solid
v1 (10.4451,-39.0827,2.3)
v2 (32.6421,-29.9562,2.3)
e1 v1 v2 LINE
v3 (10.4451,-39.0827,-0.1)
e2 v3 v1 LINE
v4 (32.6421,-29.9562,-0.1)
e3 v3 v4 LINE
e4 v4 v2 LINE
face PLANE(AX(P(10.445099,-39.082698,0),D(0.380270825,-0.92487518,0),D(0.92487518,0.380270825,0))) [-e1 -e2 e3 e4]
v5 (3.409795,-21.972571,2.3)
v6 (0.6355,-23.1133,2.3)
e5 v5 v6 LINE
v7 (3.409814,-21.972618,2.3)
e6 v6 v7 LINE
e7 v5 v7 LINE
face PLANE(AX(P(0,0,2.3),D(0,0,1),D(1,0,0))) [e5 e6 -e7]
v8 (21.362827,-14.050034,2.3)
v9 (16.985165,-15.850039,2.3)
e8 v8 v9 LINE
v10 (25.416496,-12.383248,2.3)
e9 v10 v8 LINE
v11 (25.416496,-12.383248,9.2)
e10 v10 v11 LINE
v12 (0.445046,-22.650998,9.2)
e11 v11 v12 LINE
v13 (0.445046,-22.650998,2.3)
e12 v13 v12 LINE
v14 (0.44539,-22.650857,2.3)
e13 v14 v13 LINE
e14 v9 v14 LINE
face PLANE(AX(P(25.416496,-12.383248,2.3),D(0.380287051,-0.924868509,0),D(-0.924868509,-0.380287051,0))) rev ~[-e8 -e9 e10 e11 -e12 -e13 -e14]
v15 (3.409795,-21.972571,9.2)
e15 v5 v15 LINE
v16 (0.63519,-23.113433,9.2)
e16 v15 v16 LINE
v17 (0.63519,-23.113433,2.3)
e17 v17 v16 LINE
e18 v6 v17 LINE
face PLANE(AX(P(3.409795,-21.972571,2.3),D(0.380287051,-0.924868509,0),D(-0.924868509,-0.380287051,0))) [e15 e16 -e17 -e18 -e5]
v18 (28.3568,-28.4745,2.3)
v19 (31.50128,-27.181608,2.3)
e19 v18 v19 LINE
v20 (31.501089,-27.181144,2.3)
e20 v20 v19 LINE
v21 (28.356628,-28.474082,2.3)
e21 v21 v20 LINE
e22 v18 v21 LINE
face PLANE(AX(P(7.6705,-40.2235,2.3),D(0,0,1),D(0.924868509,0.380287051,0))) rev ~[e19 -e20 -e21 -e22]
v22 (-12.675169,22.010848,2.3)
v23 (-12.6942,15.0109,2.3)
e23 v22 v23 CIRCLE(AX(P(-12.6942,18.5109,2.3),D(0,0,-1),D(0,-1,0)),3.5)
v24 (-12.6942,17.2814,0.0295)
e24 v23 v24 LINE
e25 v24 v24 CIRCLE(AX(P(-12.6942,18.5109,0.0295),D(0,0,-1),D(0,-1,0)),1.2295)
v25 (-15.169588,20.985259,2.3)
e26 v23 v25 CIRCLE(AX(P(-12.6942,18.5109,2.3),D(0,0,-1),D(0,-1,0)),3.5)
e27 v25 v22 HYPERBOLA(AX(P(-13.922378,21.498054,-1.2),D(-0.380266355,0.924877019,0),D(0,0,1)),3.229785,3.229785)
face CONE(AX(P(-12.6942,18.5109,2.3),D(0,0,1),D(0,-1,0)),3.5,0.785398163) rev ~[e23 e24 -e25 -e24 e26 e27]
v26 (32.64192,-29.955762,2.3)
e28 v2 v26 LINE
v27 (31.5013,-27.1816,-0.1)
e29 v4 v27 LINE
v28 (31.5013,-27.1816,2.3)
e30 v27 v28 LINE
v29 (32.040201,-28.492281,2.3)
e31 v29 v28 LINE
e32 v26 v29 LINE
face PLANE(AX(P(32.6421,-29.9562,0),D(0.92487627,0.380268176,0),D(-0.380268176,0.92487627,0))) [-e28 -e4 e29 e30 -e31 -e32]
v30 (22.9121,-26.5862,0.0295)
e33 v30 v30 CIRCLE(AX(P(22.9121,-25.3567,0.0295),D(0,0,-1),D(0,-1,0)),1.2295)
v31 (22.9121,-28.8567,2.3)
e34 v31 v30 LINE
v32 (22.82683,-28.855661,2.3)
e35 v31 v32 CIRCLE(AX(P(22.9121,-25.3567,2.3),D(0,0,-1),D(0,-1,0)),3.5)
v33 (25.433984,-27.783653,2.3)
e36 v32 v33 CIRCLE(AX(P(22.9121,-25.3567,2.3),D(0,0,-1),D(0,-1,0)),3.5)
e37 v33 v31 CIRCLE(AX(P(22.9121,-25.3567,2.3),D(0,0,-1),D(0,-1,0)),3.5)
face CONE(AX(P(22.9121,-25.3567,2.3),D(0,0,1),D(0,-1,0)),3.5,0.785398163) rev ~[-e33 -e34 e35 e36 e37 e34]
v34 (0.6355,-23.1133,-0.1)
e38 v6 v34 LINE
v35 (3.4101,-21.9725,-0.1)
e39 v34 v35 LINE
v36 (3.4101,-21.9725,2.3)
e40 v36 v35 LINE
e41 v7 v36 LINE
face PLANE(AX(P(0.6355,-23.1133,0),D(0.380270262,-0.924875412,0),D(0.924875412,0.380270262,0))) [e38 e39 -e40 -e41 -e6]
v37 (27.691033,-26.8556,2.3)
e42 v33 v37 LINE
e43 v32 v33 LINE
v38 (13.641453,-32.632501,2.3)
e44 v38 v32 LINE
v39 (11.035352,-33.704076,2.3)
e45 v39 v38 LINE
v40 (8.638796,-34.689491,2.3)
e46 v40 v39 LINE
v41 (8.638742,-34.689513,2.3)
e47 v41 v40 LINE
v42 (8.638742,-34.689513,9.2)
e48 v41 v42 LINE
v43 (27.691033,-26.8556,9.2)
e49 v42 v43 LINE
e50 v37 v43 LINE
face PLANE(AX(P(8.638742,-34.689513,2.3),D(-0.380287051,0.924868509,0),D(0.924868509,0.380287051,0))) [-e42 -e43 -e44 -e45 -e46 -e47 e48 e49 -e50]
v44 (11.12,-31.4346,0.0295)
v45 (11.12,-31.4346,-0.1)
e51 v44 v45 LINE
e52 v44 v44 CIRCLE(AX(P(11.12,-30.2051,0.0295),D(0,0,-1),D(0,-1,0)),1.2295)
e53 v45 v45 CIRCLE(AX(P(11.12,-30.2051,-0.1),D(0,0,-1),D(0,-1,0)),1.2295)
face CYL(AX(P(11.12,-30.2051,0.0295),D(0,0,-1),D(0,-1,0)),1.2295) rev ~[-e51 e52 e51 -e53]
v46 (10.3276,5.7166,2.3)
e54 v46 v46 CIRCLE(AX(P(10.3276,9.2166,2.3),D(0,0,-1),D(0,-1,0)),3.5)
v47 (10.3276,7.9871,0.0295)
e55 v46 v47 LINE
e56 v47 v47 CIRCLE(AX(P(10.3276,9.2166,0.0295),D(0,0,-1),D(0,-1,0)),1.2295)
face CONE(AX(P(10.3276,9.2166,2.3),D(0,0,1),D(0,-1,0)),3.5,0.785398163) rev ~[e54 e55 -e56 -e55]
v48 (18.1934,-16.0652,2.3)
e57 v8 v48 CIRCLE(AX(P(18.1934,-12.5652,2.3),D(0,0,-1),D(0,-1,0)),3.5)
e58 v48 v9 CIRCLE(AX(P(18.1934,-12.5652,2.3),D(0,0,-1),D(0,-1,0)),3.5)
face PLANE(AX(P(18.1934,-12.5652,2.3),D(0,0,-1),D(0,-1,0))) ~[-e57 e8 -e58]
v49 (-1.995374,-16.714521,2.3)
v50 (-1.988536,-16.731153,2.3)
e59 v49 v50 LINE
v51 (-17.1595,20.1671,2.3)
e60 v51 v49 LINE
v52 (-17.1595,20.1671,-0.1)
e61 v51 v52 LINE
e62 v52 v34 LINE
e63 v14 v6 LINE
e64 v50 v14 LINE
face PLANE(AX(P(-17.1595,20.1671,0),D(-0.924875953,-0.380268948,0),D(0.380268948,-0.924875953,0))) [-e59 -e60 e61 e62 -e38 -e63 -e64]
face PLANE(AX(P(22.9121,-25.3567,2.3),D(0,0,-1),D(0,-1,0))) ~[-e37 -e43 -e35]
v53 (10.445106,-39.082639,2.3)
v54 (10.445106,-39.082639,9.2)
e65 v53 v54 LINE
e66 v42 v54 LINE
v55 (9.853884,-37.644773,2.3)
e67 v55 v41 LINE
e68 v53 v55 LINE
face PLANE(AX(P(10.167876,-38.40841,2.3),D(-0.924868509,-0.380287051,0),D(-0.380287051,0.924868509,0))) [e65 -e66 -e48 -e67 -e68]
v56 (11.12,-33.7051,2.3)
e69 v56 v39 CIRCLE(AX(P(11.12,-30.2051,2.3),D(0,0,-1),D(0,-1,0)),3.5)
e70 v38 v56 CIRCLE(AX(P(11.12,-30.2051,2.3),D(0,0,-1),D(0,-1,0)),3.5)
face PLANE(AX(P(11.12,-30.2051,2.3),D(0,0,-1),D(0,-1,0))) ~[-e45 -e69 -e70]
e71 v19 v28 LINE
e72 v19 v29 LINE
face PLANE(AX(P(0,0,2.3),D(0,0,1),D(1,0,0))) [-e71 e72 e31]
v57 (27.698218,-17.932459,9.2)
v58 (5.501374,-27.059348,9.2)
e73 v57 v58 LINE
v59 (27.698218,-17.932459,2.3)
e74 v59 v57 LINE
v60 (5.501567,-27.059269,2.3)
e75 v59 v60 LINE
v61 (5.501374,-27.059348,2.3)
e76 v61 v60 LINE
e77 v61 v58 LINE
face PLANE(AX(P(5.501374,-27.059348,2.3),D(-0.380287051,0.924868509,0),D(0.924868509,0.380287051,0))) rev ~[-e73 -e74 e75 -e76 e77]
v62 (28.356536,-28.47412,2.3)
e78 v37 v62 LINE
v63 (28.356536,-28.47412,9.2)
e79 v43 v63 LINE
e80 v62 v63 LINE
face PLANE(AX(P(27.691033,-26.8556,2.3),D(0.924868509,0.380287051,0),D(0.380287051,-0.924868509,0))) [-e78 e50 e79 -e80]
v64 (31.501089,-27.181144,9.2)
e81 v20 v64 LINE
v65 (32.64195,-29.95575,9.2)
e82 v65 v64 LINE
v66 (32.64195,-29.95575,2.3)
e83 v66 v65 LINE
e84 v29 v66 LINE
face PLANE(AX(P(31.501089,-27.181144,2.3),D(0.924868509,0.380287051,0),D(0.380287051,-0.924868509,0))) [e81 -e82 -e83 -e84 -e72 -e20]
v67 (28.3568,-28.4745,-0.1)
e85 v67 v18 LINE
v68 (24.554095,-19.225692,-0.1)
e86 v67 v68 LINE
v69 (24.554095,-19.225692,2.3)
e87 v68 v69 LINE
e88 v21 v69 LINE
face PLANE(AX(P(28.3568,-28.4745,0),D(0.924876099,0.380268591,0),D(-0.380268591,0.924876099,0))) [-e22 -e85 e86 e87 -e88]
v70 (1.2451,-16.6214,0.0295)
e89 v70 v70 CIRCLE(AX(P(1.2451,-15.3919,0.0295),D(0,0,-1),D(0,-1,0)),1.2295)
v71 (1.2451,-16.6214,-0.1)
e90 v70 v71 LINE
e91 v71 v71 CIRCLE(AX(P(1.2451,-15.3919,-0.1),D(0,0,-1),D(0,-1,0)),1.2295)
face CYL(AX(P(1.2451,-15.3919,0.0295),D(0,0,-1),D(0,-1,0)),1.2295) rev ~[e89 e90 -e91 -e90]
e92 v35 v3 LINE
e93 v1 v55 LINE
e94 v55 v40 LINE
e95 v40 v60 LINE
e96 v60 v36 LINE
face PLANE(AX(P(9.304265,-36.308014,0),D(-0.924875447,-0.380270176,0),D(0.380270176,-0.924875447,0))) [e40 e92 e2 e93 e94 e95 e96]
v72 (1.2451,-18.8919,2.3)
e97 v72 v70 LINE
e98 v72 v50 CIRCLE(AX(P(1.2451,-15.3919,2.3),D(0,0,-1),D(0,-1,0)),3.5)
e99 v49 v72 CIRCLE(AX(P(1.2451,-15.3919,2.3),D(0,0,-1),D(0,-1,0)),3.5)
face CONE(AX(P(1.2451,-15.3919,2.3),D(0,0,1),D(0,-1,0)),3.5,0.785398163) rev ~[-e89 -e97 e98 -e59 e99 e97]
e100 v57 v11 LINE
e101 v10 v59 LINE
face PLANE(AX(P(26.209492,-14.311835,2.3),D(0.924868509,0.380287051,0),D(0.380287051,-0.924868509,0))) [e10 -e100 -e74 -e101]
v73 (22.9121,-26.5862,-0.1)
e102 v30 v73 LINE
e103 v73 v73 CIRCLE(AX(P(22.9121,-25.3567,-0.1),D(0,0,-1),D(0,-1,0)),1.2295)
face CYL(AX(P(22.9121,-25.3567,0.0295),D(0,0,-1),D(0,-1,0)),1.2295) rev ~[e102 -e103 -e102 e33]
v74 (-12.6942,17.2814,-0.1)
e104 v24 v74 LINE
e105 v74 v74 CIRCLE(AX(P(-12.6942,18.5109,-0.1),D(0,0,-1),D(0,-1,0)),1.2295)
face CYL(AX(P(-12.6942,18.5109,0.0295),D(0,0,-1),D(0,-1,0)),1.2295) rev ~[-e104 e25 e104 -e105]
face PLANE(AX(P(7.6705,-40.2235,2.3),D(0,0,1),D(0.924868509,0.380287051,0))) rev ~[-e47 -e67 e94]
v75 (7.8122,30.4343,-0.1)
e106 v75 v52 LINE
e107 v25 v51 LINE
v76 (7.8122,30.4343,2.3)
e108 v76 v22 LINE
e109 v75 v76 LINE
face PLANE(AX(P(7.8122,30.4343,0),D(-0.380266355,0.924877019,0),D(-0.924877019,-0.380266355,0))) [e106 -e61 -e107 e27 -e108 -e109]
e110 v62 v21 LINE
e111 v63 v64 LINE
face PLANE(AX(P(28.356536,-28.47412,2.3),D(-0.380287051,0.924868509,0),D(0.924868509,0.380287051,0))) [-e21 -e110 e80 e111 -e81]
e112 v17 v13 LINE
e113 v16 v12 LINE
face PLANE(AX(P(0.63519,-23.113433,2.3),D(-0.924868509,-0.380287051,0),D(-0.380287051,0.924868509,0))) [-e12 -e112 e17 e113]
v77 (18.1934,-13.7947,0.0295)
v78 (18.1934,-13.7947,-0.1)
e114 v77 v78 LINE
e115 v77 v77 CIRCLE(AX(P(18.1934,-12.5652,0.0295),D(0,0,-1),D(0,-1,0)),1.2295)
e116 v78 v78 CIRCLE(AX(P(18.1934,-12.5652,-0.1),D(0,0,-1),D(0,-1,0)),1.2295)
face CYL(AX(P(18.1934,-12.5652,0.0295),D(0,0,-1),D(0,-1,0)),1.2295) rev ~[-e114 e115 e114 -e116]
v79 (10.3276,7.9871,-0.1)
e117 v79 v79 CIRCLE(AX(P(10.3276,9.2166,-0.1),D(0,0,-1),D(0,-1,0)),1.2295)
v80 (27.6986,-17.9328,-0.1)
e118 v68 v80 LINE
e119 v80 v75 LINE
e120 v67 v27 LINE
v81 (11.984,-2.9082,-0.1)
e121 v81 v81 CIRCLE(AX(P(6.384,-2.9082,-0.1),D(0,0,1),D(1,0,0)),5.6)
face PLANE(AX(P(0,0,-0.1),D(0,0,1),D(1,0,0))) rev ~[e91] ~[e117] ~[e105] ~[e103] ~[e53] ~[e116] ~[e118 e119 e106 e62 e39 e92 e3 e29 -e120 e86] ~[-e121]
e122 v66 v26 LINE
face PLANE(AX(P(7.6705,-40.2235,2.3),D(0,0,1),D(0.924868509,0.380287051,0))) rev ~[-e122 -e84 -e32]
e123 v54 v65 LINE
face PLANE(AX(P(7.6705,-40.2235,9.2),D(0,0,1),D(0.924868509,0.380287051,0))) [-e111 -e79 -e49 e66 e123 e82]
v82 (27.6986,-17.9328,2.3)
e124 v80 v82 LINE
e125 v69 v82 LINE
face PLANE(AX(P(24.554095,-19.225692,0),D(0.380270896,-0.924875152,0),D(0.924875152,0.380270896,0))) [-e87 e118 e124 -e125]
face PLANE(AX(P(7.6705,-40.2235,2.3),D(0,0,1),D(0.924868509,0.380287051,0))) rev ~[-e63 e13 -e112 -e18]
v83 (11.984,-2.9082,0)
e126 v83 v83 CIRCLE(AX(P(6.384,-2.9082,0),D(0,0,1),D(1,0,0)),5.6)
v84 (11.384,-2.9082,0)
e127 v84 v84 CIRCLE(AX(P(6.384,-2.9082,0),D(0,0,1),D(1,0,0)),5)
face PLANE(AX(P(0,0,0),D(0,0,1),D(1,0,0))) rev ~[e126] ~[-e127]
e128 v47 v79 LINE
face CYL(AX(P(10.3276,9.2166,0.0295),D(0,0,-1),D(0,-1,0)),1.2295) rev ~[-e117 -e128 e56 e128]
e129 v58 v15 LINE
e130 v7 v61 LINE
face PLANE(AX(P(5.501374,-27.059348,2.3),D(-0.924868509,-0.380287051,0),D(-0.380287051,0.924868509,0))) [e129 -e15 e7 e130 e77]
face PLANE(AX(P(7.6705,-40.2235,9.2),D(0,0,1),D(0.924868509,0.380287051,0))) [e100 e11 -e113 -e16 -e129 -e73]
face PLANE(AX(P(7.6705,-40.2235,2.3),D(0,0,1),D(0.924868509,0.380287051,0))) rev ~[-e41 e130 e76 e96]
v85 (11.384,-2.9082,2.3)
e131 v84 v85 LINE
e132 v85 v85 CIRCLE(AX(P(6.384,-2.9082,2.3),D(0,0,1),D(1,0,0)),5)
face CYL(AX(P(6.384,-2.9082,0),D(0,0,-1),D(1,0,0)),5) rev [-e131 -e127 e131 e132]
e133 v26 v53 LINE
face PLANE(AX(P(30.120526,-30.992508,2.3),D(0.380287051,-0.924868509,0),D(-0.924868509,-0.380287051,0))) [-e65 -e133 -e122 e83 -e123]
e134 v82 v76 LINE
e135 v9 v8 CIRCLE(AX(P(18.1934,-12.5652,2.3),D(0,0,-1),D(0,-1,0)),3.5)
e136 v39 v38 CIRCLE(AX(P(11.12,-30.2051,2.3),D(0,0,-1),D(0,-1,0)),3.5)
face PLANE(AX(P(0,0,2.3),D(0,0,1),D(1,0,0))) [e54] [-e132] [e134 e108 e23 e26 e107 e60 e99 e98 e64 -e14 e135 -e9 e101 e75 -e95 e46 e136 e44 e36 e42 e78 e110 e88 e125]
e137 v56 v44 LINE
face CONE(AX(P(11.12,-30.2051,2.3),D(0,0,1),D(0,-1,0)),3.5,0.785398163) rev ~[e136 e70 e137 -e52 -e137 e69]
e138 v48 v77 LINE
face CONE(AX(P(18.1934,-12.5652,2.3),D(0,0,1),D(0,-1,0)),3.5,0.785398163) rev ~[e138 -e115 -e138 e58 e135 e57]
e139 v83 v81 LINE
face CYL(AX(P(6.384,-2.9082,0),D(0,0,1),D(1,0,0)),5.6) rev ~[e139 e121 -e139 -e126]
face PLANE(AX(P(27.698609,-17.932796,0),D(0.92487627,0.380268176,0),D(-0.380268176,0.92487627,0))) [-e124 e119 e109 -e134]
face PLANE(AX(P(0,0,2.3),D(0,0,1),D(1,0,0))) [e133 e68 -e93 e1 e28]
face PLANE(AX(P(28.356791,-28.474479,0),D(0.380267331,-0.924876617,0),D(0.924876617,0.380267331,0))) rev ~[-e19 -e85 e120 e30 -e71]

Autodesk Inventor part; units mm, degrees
sketch "Sketch1" plane through (0, 0, 0) normal (0, 0, 1) x (1, 0, 0)
  circle A0 centre (0.0539, 16.4322) radius 13.85 construction
  circle A1 centre (0.0539, 16.4322) radius 14.5 construction
  circle A2 centre (15.5673, -21.2989) radius 13.85 construction
  circle A3 centre (15.5673, -21.2989) radius 14.5 construction
  circle A4 centre (-1.8632, 6.6177) radius 1.25 construction
  arc A5 (-1.5456, 14.6114) -> (-1.9501, 13.4922) centre (2.9234, 12.3633) ccw construction
  arc A6 (-1.9501, 13.4922) -> (-2.3098, 13.4782) centre (-1.8632, 6.6177) ccw construction
  arc A7 (-2.3098, 13.4782) -> (-2.8, 14.5627) centre (-7.0811, 11.9747) ccw construction
  arc A8 (-2.8, 14.5627) -> (-3.2145, 14.5028) centre (-1.8632, 6.6177) ccw construction
  arc A9 (-3.2145, 14.5028) -> (-3.3775, 13.3239) centre (1.6242, 13.2329) ccw construction
  arc A10 (-3.3775, 13.3239) -> (-3.7264, 13.2354) centre (-1.8632, 6.6177) ccw construction
  arc A11 (-3.7264, 13.2354) -> (-4.4314, 14.1943) centre (-8.0808, 10.7728) ccw construction
  arc A12 (-4.4314, 14.1943) -> (-4.8244, 14.0495) centre (-1.8632, 6.6177) ccw construction
  arc A13 (-4.8244, 14.0495) -> (-4.7387, 12.8625) centre (0.1726, 13.8134) ccw construction
  arc A14 (-4.7387, 12.8625) -> (-5.0616, 12.7034) centre (-1.8632, 6.6177) ccw construction
  arc A15 (-5.0616, 12.7034) -> (-5.9505, 13.4948) centre (-8.8088, 9.3893) ccw construction
  arc A16 (-5.9505, 13.4948) -> (-6.3048, 13.2714) centre (-1.8632, 6.6177) ccw construction
  arc A17 (-6.3048, 13.2714) -> (-5.9742, 12.1282) centre (-1.368, 14.0795) ccw construction
  arc A18 (-5.9742, 12.1282) -> (-6.257, 11.9055) centre (-1.8632, 6.6177) ccw construction
  arc A19 (-6.257, 11.9055) -> (-7.291, 12.4947) centre (-9.2333, 7.8846) ccw construction
  arc A20 (-7.291, 12.4947) -> (-7.5911, 12.2026) centre (-1.8632, 6.6177) ccw construction
  arc A21 (-7.5911, 12.2026) -> (-7.0301, 11.153) centre (-2.9302, 14.0194) ccw construction
  arc A22 (-7.0301, 11.153) -> (-7.2604, 10.8764) centre (-1.8632, 6.6177) ccw construction
  arc A23 (-7.2604, 10.8764) -> (-8.3943, 11.2378) centre (-9.3356, 6.3246) ccw construction
  arc A24 (-8.3943, 11.2378) -> (-8.6271, 10.8896) centre (-1.8632, 6.6177) ccw construction
  arc A25 (-8.6271, 10.8896) -> (-7.8601, 9.9796) centre (-4.4457, 13.6358) ccw construction
  arc A26 (-7.8601, 9.9796) -> (-8.0279, 9.6612) centre (-1.8632, 6.6177) ccw construction
  arc A27 (-8.0279, 9.6612) -> (-9.2121, 9.7789) centre (-9.1114, 4.7774) ccw construction
  arc A28 (-9.2121, 9.7789) -> (-9.3675, 9.39) centre (-1.8632, 6.6177) ccw construction
  arc A29 (-9.3675, 9.39) -> (-8.4281, 8.6594) centre (-5.8485, 12.9455) ccw construction
  arc A30 (-8.4281, 8.6594) -> (-8.5259, 8.313) centre (-1.8632, 6.6177) ccw construction
  arc A31 (-8.5259, 8.313) -> (-9.7088, 8.1819) centre (-8.5704, 3.3106) ccw construction
  arc A32 (-9.7088, 8.1819) -> (-9.7799, 7.7692) centre (-1.8632, 6.6177) ccw construction
  arc A33 (-9.7799, 7.7692) -> (-8.7091, 7.2498) centre (-7.077, 11.9786) ccw construction
  arc A34 (-8.7091, 7.2498) -> (-8.7328, 6.8907) centre (-1.8632, 6.6177) ccw construction
  arc A35 (-8.7328, 6.8907) -> (-9.8626, 6.5166) centre (-7.7362, 1.9884) ccw construction
  arc A36 (-9.8626, 6.5166) -> (-9.8463, 6.098) centre (-1.8632, 6.6177) ccw construction
  arc A37 (-9.8463, 6.098) -> (-8.6909, 5.8127) centre (-8.0777, 10.7775) ccw construction
  arc A38 (-8.6909, 5.8127) -> (-8.6394, 5.4564) centre (-1.8632, 6.6177) ccw construction
  arc A39 (-8.6394, 5.4564) -> (-9.6667, 4.8556) centre (-6.6454, 0.8685) ccw construction
  arc A40 (-9.6667, 4.8556) -> (-9.5638, 4.4496) centre (-1.8632, 6.6177) ccw construction
  arc A41 (-9.5638, 4.4496) -> (-8.3743, 4.4107) centre (-8.8067, 9.3945) ccw construction
  arc A42 (-8.3743, 4.4107) -> (-8.2499, 4.073) centre (-1.8632, 6.6177) ccw construction
  arc A43 (-8.2499, 4.073) -> (-9.1298, 3.2717) centre (-5.3456, -0.0002) ccw construction
  arc A44 (-9.1298, 3.2717) -> (-8.9448, 2.8959) centre (-1.8632, 6.6177) ccw construction
  arc A45 (-8.9448, 2.8959) -> (-7.7732, 3.1052) centre (-9.2323, 7.8902) ccw construction
  arc A46 (-7.7732, 3.1052) -> (-7.5813, 2.8007) centre (-1.8632, 6.6177) ccw construction
  arc A47 (-7.5813, 2.8007) -> (-8.2754, 1.834) centre (-3.8936, -0.5796) ccw construction
  arc A48 (-8.2754, 1.834) -> (-8.0162, 1.5049) centre (-1.8632, 6.6177) ccw construction
  arc A49 (-8.0162, 1.5049) -> (-6.9138, 1.9532) centre (-9.3359, 6.3303) ccw construction
  arc A50 (-6.9138, 1.9532) -> (-6.6627, 1.6953) centre (-1.8632, 6.6177) ccw construction
  arc A51 (-6.6627, 1.6953) -> (-7.1407, 0.6053) centre (-2.3528, -0.8444) ccw construction
  arc A52 (-7.1407, 0.6053) -> (-6.8188, 0.3374) centre (-1.8632, 6.6177) ccw construction
  arc A53 (-6.8188, 0.3374) -> (-5.8336, 1.0051) centre (-9.1128, 4.7829) ccw construction
  arc A54 (-5.8336, 1.0051) -> (-5.5344, 0.805) centre (-1.8632, 6.6177) ccw construction
  arc A55 (-5.5344, 0.805) -> (-5.7753, -0.3605) centre (-0.7906, -0.7831) ccw construction
  arc A56 (-5.7753, -0.3605) -> (-5.4047, -0.5557) centre (-1.8632, 6.6177) ccw construction
  arc A57 (-5.4047, -0.5557) -> (-4.5799, 0.3022) centre (-8.5729, 3.3157) ccw construction
  arc A58 (-4.5799, 0.3022) -> (-4.2456, 0.1687) centre (-1.8632, 6.6177) ccw construction
  arc A59 (-4.2456, 0.1687) -> (-4.2389, -1.0214) centre (0.7247, -0.3984) ccw construction
  arc A60 (-4.2389, -1.0214) -> (-3.8359, -1.1353) centre (-1.8632, 6.6177) ccw construction
  arc A61 (-3.8359, -1.1353) -> (-3.2075, -0.1246) centre (-7.7398, 1.9929) ccw construction
  arc A62 (-3.2075, -0.1246) -> (-2.8527, -0.1857) centre (-1.8632, 6.6177) ccw construction
  arc A63 (-2.8527, -0.1857) -> (-2.5988, -1.3484) centre (2.1268, 0.293) ccw construction
  arc A64 (-2.5988, -1.3484) -> (-2.1808, -1.376) centre (-1.8632, 6.6177) ccw construction
  arc A65 (-2.1808, -1.376) -> (-1.7763, -0.2567) centre (-6.6498, 0.8721) ccw construction
  arc A66 (-1.7763, -0.2567) -> (-1.4166, -0.2428) centre (-1.8632, 6.6177) ccw construction
  arc A67 (-1.4166, -0.2428) -> (-0.9264, -1.3273) centre (3.3546, 1.2607) ccw construction
  arc A68 (-0.9264, -1.3273) -> (-0.5119, -1.2673) centre (-1.8632, 6.6177) ccw construction
  arc A69 (-0.5119, -1.2673) -> (-0.3489, -0.0884) centre (-5.3506, 0.0025) ccw construction
  arc A70 (-0.3489, -0.0884) -> (0, 0) centre (-1.8632, 6.6177) ccw construction
  arc A71 (0, 0) -> (0.7049, -0.9589) centre (4.3544, 2.4627) ccw construction
  arc A72 (0.7049, -0.9589) -> (1.0979, -0.8141) centre (-1.8632, 6.6177) ccw construction
  arc A73 (1.0979, -0.8141) -> (1.0123, 0.3729) centre (-3.899, -0.578) ccw construction
  arc A74 (1.0123, 0.3729) -> (1.3352, 0.532) centre (-1.8632, 6.6177) ccw construction
  arc A75 (1.3352, 0.532) -> (2.2241, -0.2594) centre (5.0824, 3.8462) ccw construction
  arc A76 (2.2241, -0.2594) -> (2.5784, -0.036) centre (-1.8632, 6.6177) ccw construction
  arc A77 (2.5784, -0.036) -> (2.2478, 1.1073) centre (-2.3585, -0.844) ccw construction
  arc A78 (2.2478, 1.1073) -> (2.5306, 1.33) centre (-1.8632, 6.6177) ccw construction
  arc A79 (2.5306, 1.33) -> (3.5646, 0.7407) centre (5.5069, 5.3508) ccw construction
  arc A80 (3.5646, 0.7407) -> (3.8647, 1.0328) centre (-1.8632, 6.6177) ccw construction
  arc A81 (3.8647, 1.0328) -> (3.3037, 2.0824) centre (-0.7963, -0.784) ccw construction
  arc A82 (3.3037, 2.0824) -> (3.534, 2.359) centre (-1.8632, 6.6177) ccw construction
  arc A83 (3.534, 2.359) -> (4.6679, 1.9976) centre (5.6092, 6.9108) ccw construction
  arc A84 (4.6679, 1.9976) -> (4.9007, 2.3458) centre (-1.8632, 6.6177) ccw construction
  arc A85 (4.9007, 2.3458) -> (4.1337, 3.2558) centre (0.7193, -0.4004) ccw construction
  arc A86 (4.1337, 3.2558) -> (4.3014, 3.5742) centre (-1.8632, 6.6177) ccw construction
  arc A87 (4.3014, 3.5742) -> (5.4857, 3.4565) centre (5.385, 8.458) ccw construction
  arc A88 (5.4857, 3.4565) -> (5.6411, 3.8454) centre (-1.8632, 6.6177) ccw construction
  arc A89 (5.6411, 3.8454) -> (4.7016, 4.5761) centre (2.122, 0.2899) ccw construction
  arc A90 (4.7016, 4.5761) -> (4.7995, 4.9224) centre (-1.8632, 6.6177) ccw construction
  arc A91 (4.7995, 4.9224) -> (5.9824, 5.0535) centre (4.844, 9.9248) ccw construction
  arc A92 (5.9824, 5.0535) -> (6.0535, 5.4662) centre (-1.8632, 6.6177) ccw construction
  arc A93 (6.0535, 5.4662) -> (4.9827, 5.9856) centre (3.3506, 1.2568) ccw construction
  arc A94 (4.9827, 5.9856) -> (5.0064, 6.3447) centre (-1.8632, 6.6177) ccw construction
  arc A95 (5.0064, 6.3447) -> (6.1362, 6.7189) centre (4.0098, 11.247) ccw construction
  arc A96 (6.1362, 6.7189) -> (6.1199, 7.1374) centre (-1.8632, 6.6177) ccw construction
  arc A97 (6.1199, 7.1374) -> (4.9645, 7.4227) centre (4.3512, 2.4579) ccw construction
  arc A98 (4.9645, 7.4227) -> (4.913, 7.779) centre (-1.8632, 6.6177) ccw construction
  arc A99 (4.913, 7.779) -> (5.9403, 8.3798) centre (2.919, 12.3669) ccw construction
  arc A100 (5.9403, 8.3798) -> (5.8374, 8.7858) centre (-1.8632, 6.6177) ccw construction
  arc A101 (5.8374, 8.7858) -> (4.6479, 8.8247) centre (5.0803, 3.8409) ccw construction
  arc A102 (4.6479, 8.8247) -> (4.5235, 9.1625) centre (-1.8632, 6.6177) ccw construction
  arc A103 (4.5235, 9.1625) -> (5.4034, 9.9638) centre (1.6192, 13.2356) ccw construction
  arc A104 (5.4034, 9.9638) -> (5.2183, 10.3395) centre (-1.8632, 6.6177) ccw construction
  arc A105 (5.2183, 10.3395) -> (4.0468, 10.1302) centre (5.5059, 5.3452) ccw construction
  arc A106 (4.0468, 10.1302) -> (3.8548, 10.4347) centre (-1.8632, 6.6177) ccw construction
  arc A107 (3.8548, 10.4347) -> (4.549, 11.4015) centre (0.1671, 13.815) ccw construction
  arc A108 (4.549, 11.4015) -> (4.2898, 11.7305) centre (-1.8632, 6.6177) ccw construction
  arc A109 (4.2898, 11.7305) -> (3.1873, 11.2822) centre (5.6094, 6.9051) ccw construction
  arc A110 (3.1873, 11.2822) -> (2.9363, 11.5402) centre (-1.8632, 6.6177) ccw construction
  arc A111 (2.9363, 11.5402) -> (3.4142, 12.6301) centre (-1.3736, 14.0798) ccw construction
  arc A112 (3.4142, 12.6301) -> (3.0923, 12.898) centre (-1.8632, 6.6177) ccw construction
  arc A113 (3.0923, 12.898) -> (2.1072, 12.2304) centre (5.3864, 8.4525) ccw construction
  arc A114 (2.1072, 12.2304) -> (1.808, 12.4305) centre (-1.8632, 6.6177) ccw construction
  arc A115 (1.808, 12.4305) -> (2.0489, 13.5959) centre (-2.9358, 14.0186) ccw construction
  arc A116 (2.0489, 13.5959) -> (1.6783, 13.7911) centre (-1.8632, 6.6177) ccw construction
  arc A117 (1.6783, 13.7911) -> (0.8535, 12.9332) centre (4.8465, 9.9197) ccw construction
  arc A118 (0.8535, 12.9332) -> (0.5192, 13.0667) centre (-1.8632, 6.6177) ccw construction
  arc A119 (0.5192, 13.0667) -> (0.5125, 14.2568) centre (-4.4511, 13.6338) ccw construction
  arc A120 (0.5125, 14.2568) -> (0.1095, 14.3707) centre (-1.8632, 6.6177) ccw construction
  arc A121 (0.1095, 14.3707) -> (-0.519, 13.36) centre (4.0133, 11.2426) ccw construction
  arc A122 (-0.519, 13.36) -> (-0.8737, 13.4211) centre (-1.8632, 6.6177) ccw construction
  arc A123 (-0.8737, 13.4211) -> (-1.1277, 14.5838) centre (-5.8533, 12.9425) ccw construction
  arc A124 (-1.1277, 14.5838) -> (-1.5456, 14.6114) centre (-1.8632, 6.6177) ccw construction
  arc A125 (9.5083, 4.7273) -> (9.5495, 6.1549) centre (3.5709, 5.6133) ccw construction
  arc A126 (9.5495, 6.1549) -> (9.0708, 6.3081) centre (6.384, -2.9082) ccw construction
  arc A127 (9.0708, 6.3081) -> (8.2753, 5.1221) centre (13.6232, 2.395) ccw construction
  arc A128 (8.2753, 5.1221) -> (7.8525, 5.21) centre (6.384, -2.9082) ccw construction
  arc A129 (7.8525, 5.21) -> (7.596, 6.615) centre (1.8607, 4.8422) ccw construction
  arc A130 (7.596, 6.615) -> (7.0959, 6.6654) centre (6.384, -2.9082) ccw construction
  arc A131 (7.0959, 6.6654) -> (6.5644, 5.3398) centre (12.3624, 3.7842) ccw construction
  arc A132 (6.5644, 5.3398) -> (6.1325, 5.338) centre (6.384, -2.9082) ccw construction
  arc A133 (6.1325, 5.338) -> (5.5895, 6.6589) centre (0.3481, 3.7324) ccw construction
  arc A134 (5.5895, 6.6589) -> (5.0899, 6.6042) centre (6.384, -2.9082) ccw construction
  arc A135 (5.0899, 6.6042) -> (4.8456, 5.1971) centre (10.8403, 4.8809) ccw construction
  arc A136 (4.8456, 5.1971) -> (4.4235, 5.1055) centre (6.384, -2.9082) ccw construction
  arc A137 (4.4235, 5.1055) -> (3.6178, 6.2846) centre (-0.9006, 2.3323) ccw construction
  arc A138 (3.6178, 6.2846) -> (3.1405, 6.1272) centre (6.384, -2.9082) ccw construction
  arc A139 (3.1405, 6.1272) -> (3.194, 4.7001) centre (9.1235, 5.6372) ccw construction
  arc A140 (3.194, 4.7001) -> (2.8002, 4.5227) centre (6.384, -2.9082) ccw construction
  arc A141 (2.8002, 4.5227) -> (1.767, 5.5086) centre (-1.831, 0.7033) ccw construction
  arc A142 (1.767, 5.5086) -> (1.3328, 5.2554) centre (6.384, -2.9082) ccw construction
  arc A143 (1.3328, 5.2554) -> (1.6819, 3.8706) centre (7.2869, 6.02) ccw construction
  arc A144 (1.6819, 3.8706) -> (1.3336, 3.6152) centre (6.384, -2.9082) ccw construction
  arc A145 (1.3336, 3.6152) -> (0.1179, 4.3647) centre (-2.4023, -1.0837) ccw construction
  arc A146 (0.1179, 4.3647) -> (-0.2542, 4.0268) centre (6.384, -2.9082) ccw construction
  arc A147 (-0.2542, 4.0268) -> (0.3752, 2.7449) centre (5.4109, 6.0127) ccw construction
  arc A148 (0.3752, 2.7449) -> (0.0876, 2.4226) centre (6.384, -2.9082) ccw construction
  arc A149 (0.0876, 2.4226) -> (-1.2573, 2.903) centre (-2.5897, -2.9503) ccw construction
  arc A150 (-1.2573, 2.903) -> (-1.551, 2.4951) centre (6.384, -2.9082) ccw construction
  arc A151 (-1.551, 2.4951) -> (-0.6688, 1.372) centre (3.5774, 5.6154) ccw construction
  arc A152 (-0.6688, 1.372) -> (-0.8831, 0.997) centre (6.384, -2.9082) ccw construction
  arc A153 (-0.8831, 0.997) -> (-2.2985, 1.1873) centre (-2.3848, -4.8151) ccw construction
  arc A154 (-2.2985, 1.1873) -> (-2.501, 0.7273) centre (6.384, -2.9082) ccw construction
  arc A155 (-2.501, 0.7273) -> (-1.4046, -0.1879) centre (1.8666, 4.8456) ccw construction
  arc A156 (-1.4046, -0.1879) -> (-1.5363, -0.5992) centre (6.384, -2.9082) ccw construction
  arc A157 (-1.5363, -0.5992) -> (-2.9603, -0.7074) centre (-1.7967, -6.5966) ccw construction
  arc A158 (-2.9603, -0.7074) -> (-3.0627, -1.1995) centre (6.384, -2.9082) ccw construction
  arc A159 (-3.0627, -1.1995) -> (-1.8, -1.8667) centre (0.3532, 3.737) ccw construction
  arc A160 (-1.8, -1.8667) -> (-1.8433, -2.2964) centre (6.384, -2.9082) ccw construction
  arc A161 (-1.8433, -2.2964) -> (-3.2137, -2.6983) centre (-0.8511, -8.2169) ccw construction
  arc A162 (-3.2137, -2.6983) -> (-3.2115, -3.2009) centre (6.384, -2.9082) ccw construction
  arc A163 (-3.2115, -3.2009) -> (-1.8377, -3.591) centre (-0.8966, 2.3379) ccw construction
  arc A164 (-1.8377, -3.591) -> (-1.7907, -4.0203) centre (6.384, -2.9082) ccw construction
  arc A165 (-1.7907, -4.0203) -> (-3.0476, -4.6984) centre (0.4107, -9.6052) ccw construction
  arc A166 (-3.0476, -4.6984) -> (-2.941, -5.1895) centre (6.384, -2.9082) ccw construction
  arc A167 (-2.941, -5.1895) -> (-1.5161, -5.2854) centre (-1.8282, 0.7095) ccw construction
  arc A168 (-1.5161, -5.2854) -> (-1.3808, -5.6956) centre (6.384, -2.9082) ccw construction
  arc A169 (-1.3808, -5.6956) -> (-2.4693, -6.6202) centre (1.9336, -10.7007) ccw construction
  arc A170 (-2.4693, -6.6202) -> (-2.2629, -7.0784) centre (6.384, -2.9082) ccw construction
  arc A171 (-2.2629, -7.0784) -> (-0.8492, -6.876) centre (-2.401, -1.077) ccw construction
  arc A172 (-0.8492, -6.876) -> (-0.6316, -7.2491) centre (6.384, -2.9082) ccw construction
  arc A173 (-0.6316, -7.2491) -> (-1.5041, -8.3798) centre (3.651, -11.4557) ccw construction
  arc A174 (-1.5041, -8.3798) -> (-1.2069, -8.7851) centre (6.384, -2.9082) ccw construction
  arc A175 (-1.2069, -8.7851) -> (0.1338, -8.2932) centre (-2.5897, -2.9435) ccw construction
  arc A176 (0.1338, -8.2932) -> (0.4242, -8.6129) centre (6.384, -2.9082) ccw construction
  arc A177 (0.4242, -8.6129) -> (-0.1941, -9.9002) centre (5.4879, -11.8372) ccw construction
  arc A178 (-0.1941, -9.9002) -> (0.1809, -10.2349) centre (6.384, -2.9082) ccw construction
  arc A179 (0.1809, -10.2349) -> (1.39, -9.475) centre (-2.3863, -4.8085) ccw construction
  arc A180 (1.39, -9.475) -> (1.7405, -9.7273) centre (6.384, -2.9082) ccw construction
  arc A181 (1.7405, -9.7273) -> (1.4034, -11.1151) centre (7.3639, -11.8284) ccw construction
  arc A182 (1.4034, -11.1151) -> (1.8397, -11.3645) centre (6.384, -2.9082) ccw construction
  arc A183 (1.8397, -11.3645) -> (2.8644, -10.3698) centre (-1.7995, -6.5904) ccw construction
  arc A184 (2.8644, -10.3698) -> (3.2598, -10.5438) centre (6.384, -2.9082) ccw construction
  arc A185 (3.2598, -10.5438) -> (3.2185, -11.9713) centre (9.1971, -11.4297) ccw construction
  arc A186 (3.2185, -11.9713) -> (3.6972, -12.1246) centre (6.384, -2.9082) ccw construction
  arc A187 (3.6972, -12.1246) -> (4.4927, -10.9385) centre (-0.8551, -8.2114) ccw construction
  arc A188 (4.4927, -10.9385) -> (4.9156, -11.0265) centre (6.384, -2.9082) ccw construction
  arc A189 (4.9156, -11.0265) -> (5.172, -12.4314) centre (10.9073, -10.6586) ccw construction
  arc A190 (5.172, -12.4314) -> (5.6721, -12.4818) centre (6.384, -2.9082) ccw construction
  arc A191 (5.6721, -12.4818) -> (6.2036, -11.1562) centre (0.4056, -9.6006) ccw construction
  arc A192 (6.2036, -11.1562) -> (6.6355, -11.1544) centre (6.384, -2.9082) ccw construction
  arc A193 (6.6355, -11.1544) -> (7.1785, -12.4753) centre (12.4199, -9.5488) ccw construction
  arc A194 (7.1785, -12.4753) -> (7.6781, -12.4206) centre (6.384, -2.9082) ccw construction
  arc A195 (7.6781, -12.4206) -> (7.9224, -11.0135) centre (1.9277, -10.6973) ccw construction
  arc A196 (7.9224, -11.0135) -> (8.3445, -10.9219) centre (6.384, -2.9082) ccw construction
  arc A197 (8.3445, -10.9219) -> (9.1502, -12.101) centre (13.6686, -8.1488) ccw construction
  arc A198 (9.1502, -12.101) -> (9.6276, -11.9437) centre (6.384, -2.9082) ccw construction
  arc A199 (9.6276, -11.9437) -> (9.574, -10.5165) centre (3.6445, -11.4536) ccw construction
  arc A200 (9.574, -10.5165) -> (9.9678, -10.3392) centre (6.384, -2.9082) ccw construction
  arc A201 (9.9678, -10.3392) -> (11.0011, -11.325) centre (14.599, -6.5197) ccw construction
  arc A202 (11.0011, -11.325) -> (11.4353, -11.0719) centre (6.384, -2.9082) ccw construction
  arc A203 (11.4353, -11.0719) -> (11.0861, -9.687) centre (5.4811, -11.8365) ccw construction
  arc A204 (11.0861, -9.687) -> (11.4345, -9.4317) centre (6.384, -2.9082) ccw construction
  arc A205 (11.4345, -9.4317) -> (12.6501, -10.1812) centre (15.1704, -4.7328) ccw construction
  arc A206 (12.6501, -10.1812) -> (13.0222, -9.8432) centre (6.384, -2.9082) ccw construction
  arc A207 (13.0222, -9.8432) -> (12.3928, -8.5613) centre (7.3571, -11.8291) ccw construction
  arc A208 (12.3928, -8.5613) -> (12.6804, -8.2391) centre (6.384, -2.9082) ccw construction
  arc A209 (12.6804, -8.2391) -> (14.0253, -8.7194) centre (15.3577, -2.8661) ccw construction
  arc A210 (14.0253, -8.7194) -> (14.319, -8.3115) centre (6.384, -2.9082) ccw construction
  arc A211 (14.319, -8.3115) -> (13.4368, -7.1885) centre (9.1906, -11.4318) ccw construction
  arc A212 (13.4368, -7.1885) -> (13.6512, -6.8135) centre (6.384, -2.9082) ccw construction
  arc A213 (13.6512, -6.8135) -> (15.0666, -7.0037) centre (15.1529, -1.0013) ccw construction
  arc A214 (15.0666, -7.0037) -> (15.269, -6.5437) centre (6.384, -2.9082) ccw construction
  arc A215 (15.269, -6.5437) -> (14.1726, -5.6286) centre (10.9014, -10.6621) ccw construction
  arc A216 (14.1726, -5.6286) -> (14.3043, -5.2172) centre (6.384, -2.9082) ccw construction
  arc A217 (14.3043, -5.2172) -> (15.7283, -5.109) centre (14.5648, 0.7802) ccw construction
  arc A218 (15.7283, -5.109) -> (15.8307, -4.617) centre (6.384, -2.9082) ccw construction
  arc A219 (15.8307, -4.617) -> (14.568, -3.9498) centre (12.4148, -9.5534) ccw construction
  arc A220 (14.568, -3.9498) -> (14.6113, -3.52) centre (6.384, -2.9082) ccw construction
  arc A221 (14.6113, -3.52) -> (15.9817, -3.1181) centre (13.6191, 2.4005) ccw construction
  arc A222 (15.9817, -3.1181) -> (15.9796, -2.6155) centre (6.384, -2.9082) ccw construction
  arc A223 (15.9796, -2.6155) -> (14.6057, -2.2255) centre (13.6647, -8.1543) ccw construction
  arc A224 (14.6057, -2.2255) -> (14.5587, -1.7961) centre (6.384, -2.9082) ccw construction
  arc A225 (14.5587, -1.7961) -> (15.8156, -1.1181) centre (12.3573, 3.7887) ccw construction
  arc A226 (15.8156, -1.1181) -> (15.709, -0.6269) centre (6.384, -2.9082) ccw construction
  arc A227 (15.709, -0.6269) -> (14.2841, -0.531) centre (14.5963, -6.5259) ccw construction
  arc A228 (14.2841, -0.531) -> (14.1489, -0.1208) centre (6.384, -2.9082) ccw construction
  arc A229 (14.1489, -0.1208) -> (15.2373, 0.8038) centre (10.8344, 4.8843) ccw construction
  arc A230 (15.2373, 0.8038) -> (15.0309, 1.262) centre (6.384, -2.9082) ccw construction
  arc A231 (15.0309, 1.262) -> (13.6172, 1.0596) centre (15.169, -4.7394) ccw construction
  arc A232 (13.6172, 1.0596) -> (13.3996, 1.4327) centre (6.384, -2.9082) ccw construction
  arc A233 (13.3996, 1.4327) -> (14.2721, 2.5634) centre (9.117, 5.6393) ccw construction
  arc A234 (14.2721, 2.5634) -> (13.9749, 2.9687) centre (6.384, -2.9082) ccw construction
  arc A235 (13.9749, 2.9687) -> (12.6342, 2.4767) centre (15.3578, -2.8729) ccw construction
  arc A236 (12.6342, 2.4767) -> (12.3438, 2.7965) centre (6.384, -2.9082) ccw construction
  arc A237 (12.3438, 2.7965) -> (12.9621, 4.0838) centre (7.2802, 6.0207) ccw construction
  arc A238 (12.9621, 4.0838) -> (12.5872, 4.4185) centre (6.384, -2.9082) ccw construction
  arc A239 (12.5872, 4.4185) -> (11.378, 3.6585) centre (15.1543, -1.008) ccw construction
  arc A240 (11.378, 3.6585) -> (11.0275, 3.9109) centre (6.384, -2.9082) ccw construction
  arc A241 (11.0275, 3.9109) -> (11.3647, 5.2987) centre (5.4041, 6.0119) ccw construction
  arc A242 (11.3647, 5.2987) -> (10.9283, 5.5481) centre (6.384, -2.9082) ccw construction
  arc A243 (10.9283, 5.5481) -> (9.9036, 4.5534) centre (14.5676, 0.774) ccw construction
  arc A244 (9.9036, 4.5534) -> (9.5083, 4.7273) centre (6.384, -2.9082) ccw construction
  line L0 (8.8677, -39.1906) -> (2.7834, -24.3926) projected
  line L1 (9.7925, -38.8104) -> (8.8677, -39.1906) projected
  line L2 (3.7082, -24.0124) -> (9.7925, -38.8104) projected
  line L3 (3.7082, -24.0124) -> (2.7834, -24.3926) projected
  line L4 (3.3096, -26.9874) -> (2.1308, -24.1203) projected
  line L5 (2.1308, -24.1203) -> (3.5181, -23.5499) projected
  line L6 (3.5181, -23.5499) -> (3.1378, -22.625) projected
  line L7 (3.1378, -22.625) -> (0.8256, -23.5757) projected
  line L8 (0.8256, -23.5757) -> (2.3847, -27.3677) projected
  line L9 (2.3847, -27.3677) -> (3.3096, -26.9874) projected
  line L10 (8.4052, -39.3808) -> (7.4165, -36.9761) projected
  line L11 (7.4165, -36.9761) -> (6.4916, -37.3564) projected
  line L12 (6.4916, -37.3564) -> (7.6705, -40.2235) projected
  line L13 (7.6705, -40.2235) -> (9.9827, -39.2728) projected
  line L14 (9.9827, -39.2728) -> (9.7925, -38.8104) projected
  line L15 (9.7925, -38.8104) -> (8.4052, -39.3808) projected
  line L16 (7.6705, -40.2235) -> (32.6421, -29.9562)
  line L17 (32.6421, -29.9562) -> (7.8122, 30.4343)
  line L18 (7.8122, 30.4343) -> (-17.1595, 20.1671)
  line L19 (-17.1595, 20.1671) -> (7.6705, -40.2235)
  circle A245 centre (6.384, -2.9082) radius 9.6 construction
  circle A246 centre (6.384, -2.9082) radius 5.6 projected
  circle A247 centre (6.384, -2.9082) radius 5 projected
  line L20 (0.6355, -23.1133) -> (3.4101, -21.9725)
  line L21 (3.4101, -21.9725) -> (10.4451, -39.0827)
  line L22 (5.5016, -27.0593) -> (27.6986, -17.9328)
  line L23 (9.3043, -36.308) -> (31.5013, -27.1816)
  line L24 (28.3568, -28.4745) -> (15.16, 3.6223)
  circle A248 centre (23.8853, -16.7446) radius 0.75
  circle A249 centre (19.7785, -32.0015) radius 0.75
  point P0 (24.5541, -19.2258)
  point P1 (3.4101, -21.9725)
  dimension "d1" = 4.5
  dimension "d2" = 4.4
  dimension "d5" = 0.5
  dimension "d6" = 0.5
  dimension "d11" = 2
  dimension "d15" = 10
  dimension "d16" = 1
  dimension "d17" = 3
  dimension "d18" = 0
  dimension "d19" = 2.5491
ref_plane "Work Plane4" through (-17.1595, -40.2235, -0.2) normal (0, 0, 1) x (0.9249, 0.3803, 0)
extrude "Extrusion1" add sketch "Sketch1" against normal blind 0.1 contours L21 L23 A249 L17 L16 | L21 L22 L24 L23 A249 | A248 L24 | L24 A248 | L21 L20 L19 L18 L17 L22 | A249 L23 | L23 A249
ref_plane "Work Plane7" through (-1.4059, -10.6981, 2.3) normal (0, 0, 1) x (0.9949, 0.101, 0)
extrude "Extrusion2" add sketch "Sketch1" along normal up to surface (2.3 mm away) contours L21 L23 A249 L17 L16 | L21 L22 L24 L23 A249 | A248 L24 | L24 A248 | L21 L20 L19 L18 L17 L22 | A249 L23 | L23 A249 | A246
sketch "Sketch2" plane through (32.6421, -29.9562, -0.2) normal (0, 0, -1) x (-0.9249, -0.3803, 0)
  circle A0 centre (12.5, 55.2958) radius 1.15 projected
  circle A1 centre (12.5, 55.2958) radius 1.65
  circle A2 centre (18.0053, 46.9477) radius 1.25 projected
  point P0 (18.7985, 40.1186)
  dimension "d12" = 0.5
extrude "Extrusion3" [suppressed]
hole "Hole4" [suppressed]
sketch "Sketch4" plane through (7.6705, -40.2235, 2.3) normal (0, 0, 1) x (0.9249, 0.3803, 0)
  line L0 (23.6, 13) -> (23.6, 3) projected
  line L1 (2.9, 13) -> (23.6, 13)
  line L2 (27, 65.2958) -> (27, 13) projected
  line L3 (27, 18) -> (2.6484, 18)
  line L4 (2.9, 13) -> (2.9, 18)
  line L5 (2.9, 13) -> (2.9, 0)
  line L6 (27.4, 0) -> (3.4, 0)
  line L7 (2.9, 4.75) -> (23.6, 4.75)
  line L8 (27, 13) -> (23.6, 13) projected
  line L9 (23.6, 13) -> (27, 13)
  circle A0 centre (13, 35.0012) radius 5 projected
  line L10 (27, 13) -> (23.6, 13) projected
  line L11 (27, 65.2958) -> (27, 13) projected
  line L12 (0, 65.2958) -> (27, 65.2958) projected
  line L13 (0, 18.5) -> (0, 65.2958) projected
  line L14 (27, 0) -> (3, 0) projected
  line L15 (27, 3) -> (27, 0) projected
  line L16 (23.6, 3) -> (27, 3) projected
  line L17 (23.6, 13) -> (23.6, 3) projected
  line L18 (27, 19) -> (0, 19)
  line L19 (2.9, 18) -> (0, 18)
  line L20 (3, 18.5) -> (0, 18.5) projected
  line L21 (3, 0) -> (3, 18.5) projected
  circle A1 centre (14.325, 2.729) radius 0.75 projected
  circle A2 centre (23.925, 15.2781) radius 0.75 projected
  circle A3 centre (4.725, 15.2781) radius 0.75 projected
  line L22 (4.8832, 18.729) -> (23.7668, 18.729) projected
  arc A4 (23.7668, 18.729) -> (23.8056, 18.726) centre (23.825, 19.2256) ccw projected
  arc A5 (27.65, 14.729) -> (23.8056, 18.726) centre (23.65, 14.729) ccw projected
  line L23 (27.65, 4.729) -> (27.65, 14.729) projected
  arc A6 (22.65, -0.271) -> (27.65, 4.729) centre (22.65, 4.729) ccw projected
  line L24 (6, -0.271) -> (22.65, -0.271) projected
  arc A7 (1, 4.729) -> (6, -0.271) centre (6, 4.729) ccw projected
  line L25 (1, 14.729) -> (1, 4.729) projected
  arc A8 (4.8444, 18.726) -> (1, 14.729) centre (5, 14.729) ccw projected
  arc A9 (4.8444, 18.726) -> (4.8832, 18.729) centre (4.825, 19.2256) ccw projected
  line L26 (1.5, 0.229) -> (1.5, 16.229) projected
  line L27 (2.5, 0.229) -> (1.5, 0.229) projected
  line L28 (2.5, 16.229) -> (2.5, 0.229) projected
  line L29 (2.5, 16.229) -> (1.5, 16.229) projected
  point P0 (8.2015, 40.1186)
  point P1 (2.9, 0)
  point P2 (0, 0)
  point P3 (27, 0)
  point P4 (27, 19)
  point P5 (0, 19)
  point P6 (2.6484, 18)
  point P7 (3.4, 0)
  point P8 (2.5, 0)
  point P9 (3.4, 0)
  point P10 (27, 65.2958)
  point P11 (3, 4.75)
  point P12 (3, 0)
  point P13 (3, 18)
  point P14 (27, 18)
  point P15 (27, 19)
  point P16 (3, 13)
  point P17 (23.6, 4.75)
  point P18 (27, 13)
ref_plane "Work Plane8" through (1.3703, -39.8432, 9.2) normal (0, 0, -1) x (-0.3803, 0.9249, 0)
extrude "Extrusion4" add sketch "Sketch4" along normal up to surface (6.9 mm away) contours L1 L21 L3 A5 L2 L8 | L0 L16 L15 A6 L6 A7 L21 L7 | L21 A8 A9 L22 A4 A5 L3 | A5 L3 L2 | A7 L6 L14 L21 | A5 A4 L22 A9 A8 L21 L20 L13 L18 L2 L3 | L15 L6 A6 | A1 | A2 | A3
sketch "Sketch5" plane through (27.6986, -17.9328, -0.2) normal (0, 0, -1) x (-0.9249, -0.3803, 0)
  circle A0 centre (12.675, -10) radius 0.75 projected
  circle A1 centre (3.075, 2.5491) radius 0.75 projected
  circle A2 centre (22.275, 2.5491) radius 0.75 projected
  line L0 (22.1168, 6) -> (3.2332, 6) projected
  arc A3 (3.1944, 5.997) -> (3.2332, 6) centre (3.175, 6.4966) ccw projected
  arc A4 (3.1944, 5.997) -> (-0.65, 2) centre (3.35, 2) ccw projected
  line L1 (-0.65, -8) -> (-0.65, 2) projected
  arc A5 (-0.65, -8) -> (4.35, -13) centre (4.35, -8) ccw projected
  line L2 (21, -13) -> (4.35, -13) projected
  arc A6 (21, -13) -> (26, -8) centre (21, -8) ccw projected
  line L3 (26, 2) -> (26, -8) projected
  arc A7 (26, 2) -> (22.1556, 5.997) centre (22, 2) ccw projected
  arc A8 (22.1168, 6) -> (22.1556, 5.997) centre (22.175, 6.4966) ccw projected
  point P0 (18.7985, 27.1186)
hole "Hole1" [suppressed]
hole "Hole3" [suppressed]
sketch "Sketch7" plane through (-17.1595, 20.1671, 2.3) normal (0, 0, 1) x (0.9249, 0.3803, 0)
  circle A0 centre (3.5, -3.2298) radius 2 projected
  circle A1 centre (3.5, -39.8863) radius 2.25 projected
  circle A2 centre (20.25, -43.7169) radius 2.25 projected
  circle A3 centre (19.75, -57.3419) radius 2.25 projected
  circle A4 centre (7, -57.3419) radius 2.25 projected
  circle A5 centre (21.258, -20.5803) radius 2.25 projected
  point P0 (8.2015, -25.1773)
hole "Hole5" at (-12.6942, 18.5109, 2.3) at (18.1934, -12.5652, 2.3) at (1.2451, -15.3919, 2.3) at (11.12, -30.2051, 2.3) at (22.9121, -25.3567, 2.3) at (10.3276, 9.2166, 2.3) direction (0, 0, -1) diameter 2.459 end through all countersink diameter 7 countersink angle 90 thread size "M3x0.5" class "6H" standard "ISO Metric profile"
equation "\"d6\" = d5"
properties part number "LeftGearboxCover"
